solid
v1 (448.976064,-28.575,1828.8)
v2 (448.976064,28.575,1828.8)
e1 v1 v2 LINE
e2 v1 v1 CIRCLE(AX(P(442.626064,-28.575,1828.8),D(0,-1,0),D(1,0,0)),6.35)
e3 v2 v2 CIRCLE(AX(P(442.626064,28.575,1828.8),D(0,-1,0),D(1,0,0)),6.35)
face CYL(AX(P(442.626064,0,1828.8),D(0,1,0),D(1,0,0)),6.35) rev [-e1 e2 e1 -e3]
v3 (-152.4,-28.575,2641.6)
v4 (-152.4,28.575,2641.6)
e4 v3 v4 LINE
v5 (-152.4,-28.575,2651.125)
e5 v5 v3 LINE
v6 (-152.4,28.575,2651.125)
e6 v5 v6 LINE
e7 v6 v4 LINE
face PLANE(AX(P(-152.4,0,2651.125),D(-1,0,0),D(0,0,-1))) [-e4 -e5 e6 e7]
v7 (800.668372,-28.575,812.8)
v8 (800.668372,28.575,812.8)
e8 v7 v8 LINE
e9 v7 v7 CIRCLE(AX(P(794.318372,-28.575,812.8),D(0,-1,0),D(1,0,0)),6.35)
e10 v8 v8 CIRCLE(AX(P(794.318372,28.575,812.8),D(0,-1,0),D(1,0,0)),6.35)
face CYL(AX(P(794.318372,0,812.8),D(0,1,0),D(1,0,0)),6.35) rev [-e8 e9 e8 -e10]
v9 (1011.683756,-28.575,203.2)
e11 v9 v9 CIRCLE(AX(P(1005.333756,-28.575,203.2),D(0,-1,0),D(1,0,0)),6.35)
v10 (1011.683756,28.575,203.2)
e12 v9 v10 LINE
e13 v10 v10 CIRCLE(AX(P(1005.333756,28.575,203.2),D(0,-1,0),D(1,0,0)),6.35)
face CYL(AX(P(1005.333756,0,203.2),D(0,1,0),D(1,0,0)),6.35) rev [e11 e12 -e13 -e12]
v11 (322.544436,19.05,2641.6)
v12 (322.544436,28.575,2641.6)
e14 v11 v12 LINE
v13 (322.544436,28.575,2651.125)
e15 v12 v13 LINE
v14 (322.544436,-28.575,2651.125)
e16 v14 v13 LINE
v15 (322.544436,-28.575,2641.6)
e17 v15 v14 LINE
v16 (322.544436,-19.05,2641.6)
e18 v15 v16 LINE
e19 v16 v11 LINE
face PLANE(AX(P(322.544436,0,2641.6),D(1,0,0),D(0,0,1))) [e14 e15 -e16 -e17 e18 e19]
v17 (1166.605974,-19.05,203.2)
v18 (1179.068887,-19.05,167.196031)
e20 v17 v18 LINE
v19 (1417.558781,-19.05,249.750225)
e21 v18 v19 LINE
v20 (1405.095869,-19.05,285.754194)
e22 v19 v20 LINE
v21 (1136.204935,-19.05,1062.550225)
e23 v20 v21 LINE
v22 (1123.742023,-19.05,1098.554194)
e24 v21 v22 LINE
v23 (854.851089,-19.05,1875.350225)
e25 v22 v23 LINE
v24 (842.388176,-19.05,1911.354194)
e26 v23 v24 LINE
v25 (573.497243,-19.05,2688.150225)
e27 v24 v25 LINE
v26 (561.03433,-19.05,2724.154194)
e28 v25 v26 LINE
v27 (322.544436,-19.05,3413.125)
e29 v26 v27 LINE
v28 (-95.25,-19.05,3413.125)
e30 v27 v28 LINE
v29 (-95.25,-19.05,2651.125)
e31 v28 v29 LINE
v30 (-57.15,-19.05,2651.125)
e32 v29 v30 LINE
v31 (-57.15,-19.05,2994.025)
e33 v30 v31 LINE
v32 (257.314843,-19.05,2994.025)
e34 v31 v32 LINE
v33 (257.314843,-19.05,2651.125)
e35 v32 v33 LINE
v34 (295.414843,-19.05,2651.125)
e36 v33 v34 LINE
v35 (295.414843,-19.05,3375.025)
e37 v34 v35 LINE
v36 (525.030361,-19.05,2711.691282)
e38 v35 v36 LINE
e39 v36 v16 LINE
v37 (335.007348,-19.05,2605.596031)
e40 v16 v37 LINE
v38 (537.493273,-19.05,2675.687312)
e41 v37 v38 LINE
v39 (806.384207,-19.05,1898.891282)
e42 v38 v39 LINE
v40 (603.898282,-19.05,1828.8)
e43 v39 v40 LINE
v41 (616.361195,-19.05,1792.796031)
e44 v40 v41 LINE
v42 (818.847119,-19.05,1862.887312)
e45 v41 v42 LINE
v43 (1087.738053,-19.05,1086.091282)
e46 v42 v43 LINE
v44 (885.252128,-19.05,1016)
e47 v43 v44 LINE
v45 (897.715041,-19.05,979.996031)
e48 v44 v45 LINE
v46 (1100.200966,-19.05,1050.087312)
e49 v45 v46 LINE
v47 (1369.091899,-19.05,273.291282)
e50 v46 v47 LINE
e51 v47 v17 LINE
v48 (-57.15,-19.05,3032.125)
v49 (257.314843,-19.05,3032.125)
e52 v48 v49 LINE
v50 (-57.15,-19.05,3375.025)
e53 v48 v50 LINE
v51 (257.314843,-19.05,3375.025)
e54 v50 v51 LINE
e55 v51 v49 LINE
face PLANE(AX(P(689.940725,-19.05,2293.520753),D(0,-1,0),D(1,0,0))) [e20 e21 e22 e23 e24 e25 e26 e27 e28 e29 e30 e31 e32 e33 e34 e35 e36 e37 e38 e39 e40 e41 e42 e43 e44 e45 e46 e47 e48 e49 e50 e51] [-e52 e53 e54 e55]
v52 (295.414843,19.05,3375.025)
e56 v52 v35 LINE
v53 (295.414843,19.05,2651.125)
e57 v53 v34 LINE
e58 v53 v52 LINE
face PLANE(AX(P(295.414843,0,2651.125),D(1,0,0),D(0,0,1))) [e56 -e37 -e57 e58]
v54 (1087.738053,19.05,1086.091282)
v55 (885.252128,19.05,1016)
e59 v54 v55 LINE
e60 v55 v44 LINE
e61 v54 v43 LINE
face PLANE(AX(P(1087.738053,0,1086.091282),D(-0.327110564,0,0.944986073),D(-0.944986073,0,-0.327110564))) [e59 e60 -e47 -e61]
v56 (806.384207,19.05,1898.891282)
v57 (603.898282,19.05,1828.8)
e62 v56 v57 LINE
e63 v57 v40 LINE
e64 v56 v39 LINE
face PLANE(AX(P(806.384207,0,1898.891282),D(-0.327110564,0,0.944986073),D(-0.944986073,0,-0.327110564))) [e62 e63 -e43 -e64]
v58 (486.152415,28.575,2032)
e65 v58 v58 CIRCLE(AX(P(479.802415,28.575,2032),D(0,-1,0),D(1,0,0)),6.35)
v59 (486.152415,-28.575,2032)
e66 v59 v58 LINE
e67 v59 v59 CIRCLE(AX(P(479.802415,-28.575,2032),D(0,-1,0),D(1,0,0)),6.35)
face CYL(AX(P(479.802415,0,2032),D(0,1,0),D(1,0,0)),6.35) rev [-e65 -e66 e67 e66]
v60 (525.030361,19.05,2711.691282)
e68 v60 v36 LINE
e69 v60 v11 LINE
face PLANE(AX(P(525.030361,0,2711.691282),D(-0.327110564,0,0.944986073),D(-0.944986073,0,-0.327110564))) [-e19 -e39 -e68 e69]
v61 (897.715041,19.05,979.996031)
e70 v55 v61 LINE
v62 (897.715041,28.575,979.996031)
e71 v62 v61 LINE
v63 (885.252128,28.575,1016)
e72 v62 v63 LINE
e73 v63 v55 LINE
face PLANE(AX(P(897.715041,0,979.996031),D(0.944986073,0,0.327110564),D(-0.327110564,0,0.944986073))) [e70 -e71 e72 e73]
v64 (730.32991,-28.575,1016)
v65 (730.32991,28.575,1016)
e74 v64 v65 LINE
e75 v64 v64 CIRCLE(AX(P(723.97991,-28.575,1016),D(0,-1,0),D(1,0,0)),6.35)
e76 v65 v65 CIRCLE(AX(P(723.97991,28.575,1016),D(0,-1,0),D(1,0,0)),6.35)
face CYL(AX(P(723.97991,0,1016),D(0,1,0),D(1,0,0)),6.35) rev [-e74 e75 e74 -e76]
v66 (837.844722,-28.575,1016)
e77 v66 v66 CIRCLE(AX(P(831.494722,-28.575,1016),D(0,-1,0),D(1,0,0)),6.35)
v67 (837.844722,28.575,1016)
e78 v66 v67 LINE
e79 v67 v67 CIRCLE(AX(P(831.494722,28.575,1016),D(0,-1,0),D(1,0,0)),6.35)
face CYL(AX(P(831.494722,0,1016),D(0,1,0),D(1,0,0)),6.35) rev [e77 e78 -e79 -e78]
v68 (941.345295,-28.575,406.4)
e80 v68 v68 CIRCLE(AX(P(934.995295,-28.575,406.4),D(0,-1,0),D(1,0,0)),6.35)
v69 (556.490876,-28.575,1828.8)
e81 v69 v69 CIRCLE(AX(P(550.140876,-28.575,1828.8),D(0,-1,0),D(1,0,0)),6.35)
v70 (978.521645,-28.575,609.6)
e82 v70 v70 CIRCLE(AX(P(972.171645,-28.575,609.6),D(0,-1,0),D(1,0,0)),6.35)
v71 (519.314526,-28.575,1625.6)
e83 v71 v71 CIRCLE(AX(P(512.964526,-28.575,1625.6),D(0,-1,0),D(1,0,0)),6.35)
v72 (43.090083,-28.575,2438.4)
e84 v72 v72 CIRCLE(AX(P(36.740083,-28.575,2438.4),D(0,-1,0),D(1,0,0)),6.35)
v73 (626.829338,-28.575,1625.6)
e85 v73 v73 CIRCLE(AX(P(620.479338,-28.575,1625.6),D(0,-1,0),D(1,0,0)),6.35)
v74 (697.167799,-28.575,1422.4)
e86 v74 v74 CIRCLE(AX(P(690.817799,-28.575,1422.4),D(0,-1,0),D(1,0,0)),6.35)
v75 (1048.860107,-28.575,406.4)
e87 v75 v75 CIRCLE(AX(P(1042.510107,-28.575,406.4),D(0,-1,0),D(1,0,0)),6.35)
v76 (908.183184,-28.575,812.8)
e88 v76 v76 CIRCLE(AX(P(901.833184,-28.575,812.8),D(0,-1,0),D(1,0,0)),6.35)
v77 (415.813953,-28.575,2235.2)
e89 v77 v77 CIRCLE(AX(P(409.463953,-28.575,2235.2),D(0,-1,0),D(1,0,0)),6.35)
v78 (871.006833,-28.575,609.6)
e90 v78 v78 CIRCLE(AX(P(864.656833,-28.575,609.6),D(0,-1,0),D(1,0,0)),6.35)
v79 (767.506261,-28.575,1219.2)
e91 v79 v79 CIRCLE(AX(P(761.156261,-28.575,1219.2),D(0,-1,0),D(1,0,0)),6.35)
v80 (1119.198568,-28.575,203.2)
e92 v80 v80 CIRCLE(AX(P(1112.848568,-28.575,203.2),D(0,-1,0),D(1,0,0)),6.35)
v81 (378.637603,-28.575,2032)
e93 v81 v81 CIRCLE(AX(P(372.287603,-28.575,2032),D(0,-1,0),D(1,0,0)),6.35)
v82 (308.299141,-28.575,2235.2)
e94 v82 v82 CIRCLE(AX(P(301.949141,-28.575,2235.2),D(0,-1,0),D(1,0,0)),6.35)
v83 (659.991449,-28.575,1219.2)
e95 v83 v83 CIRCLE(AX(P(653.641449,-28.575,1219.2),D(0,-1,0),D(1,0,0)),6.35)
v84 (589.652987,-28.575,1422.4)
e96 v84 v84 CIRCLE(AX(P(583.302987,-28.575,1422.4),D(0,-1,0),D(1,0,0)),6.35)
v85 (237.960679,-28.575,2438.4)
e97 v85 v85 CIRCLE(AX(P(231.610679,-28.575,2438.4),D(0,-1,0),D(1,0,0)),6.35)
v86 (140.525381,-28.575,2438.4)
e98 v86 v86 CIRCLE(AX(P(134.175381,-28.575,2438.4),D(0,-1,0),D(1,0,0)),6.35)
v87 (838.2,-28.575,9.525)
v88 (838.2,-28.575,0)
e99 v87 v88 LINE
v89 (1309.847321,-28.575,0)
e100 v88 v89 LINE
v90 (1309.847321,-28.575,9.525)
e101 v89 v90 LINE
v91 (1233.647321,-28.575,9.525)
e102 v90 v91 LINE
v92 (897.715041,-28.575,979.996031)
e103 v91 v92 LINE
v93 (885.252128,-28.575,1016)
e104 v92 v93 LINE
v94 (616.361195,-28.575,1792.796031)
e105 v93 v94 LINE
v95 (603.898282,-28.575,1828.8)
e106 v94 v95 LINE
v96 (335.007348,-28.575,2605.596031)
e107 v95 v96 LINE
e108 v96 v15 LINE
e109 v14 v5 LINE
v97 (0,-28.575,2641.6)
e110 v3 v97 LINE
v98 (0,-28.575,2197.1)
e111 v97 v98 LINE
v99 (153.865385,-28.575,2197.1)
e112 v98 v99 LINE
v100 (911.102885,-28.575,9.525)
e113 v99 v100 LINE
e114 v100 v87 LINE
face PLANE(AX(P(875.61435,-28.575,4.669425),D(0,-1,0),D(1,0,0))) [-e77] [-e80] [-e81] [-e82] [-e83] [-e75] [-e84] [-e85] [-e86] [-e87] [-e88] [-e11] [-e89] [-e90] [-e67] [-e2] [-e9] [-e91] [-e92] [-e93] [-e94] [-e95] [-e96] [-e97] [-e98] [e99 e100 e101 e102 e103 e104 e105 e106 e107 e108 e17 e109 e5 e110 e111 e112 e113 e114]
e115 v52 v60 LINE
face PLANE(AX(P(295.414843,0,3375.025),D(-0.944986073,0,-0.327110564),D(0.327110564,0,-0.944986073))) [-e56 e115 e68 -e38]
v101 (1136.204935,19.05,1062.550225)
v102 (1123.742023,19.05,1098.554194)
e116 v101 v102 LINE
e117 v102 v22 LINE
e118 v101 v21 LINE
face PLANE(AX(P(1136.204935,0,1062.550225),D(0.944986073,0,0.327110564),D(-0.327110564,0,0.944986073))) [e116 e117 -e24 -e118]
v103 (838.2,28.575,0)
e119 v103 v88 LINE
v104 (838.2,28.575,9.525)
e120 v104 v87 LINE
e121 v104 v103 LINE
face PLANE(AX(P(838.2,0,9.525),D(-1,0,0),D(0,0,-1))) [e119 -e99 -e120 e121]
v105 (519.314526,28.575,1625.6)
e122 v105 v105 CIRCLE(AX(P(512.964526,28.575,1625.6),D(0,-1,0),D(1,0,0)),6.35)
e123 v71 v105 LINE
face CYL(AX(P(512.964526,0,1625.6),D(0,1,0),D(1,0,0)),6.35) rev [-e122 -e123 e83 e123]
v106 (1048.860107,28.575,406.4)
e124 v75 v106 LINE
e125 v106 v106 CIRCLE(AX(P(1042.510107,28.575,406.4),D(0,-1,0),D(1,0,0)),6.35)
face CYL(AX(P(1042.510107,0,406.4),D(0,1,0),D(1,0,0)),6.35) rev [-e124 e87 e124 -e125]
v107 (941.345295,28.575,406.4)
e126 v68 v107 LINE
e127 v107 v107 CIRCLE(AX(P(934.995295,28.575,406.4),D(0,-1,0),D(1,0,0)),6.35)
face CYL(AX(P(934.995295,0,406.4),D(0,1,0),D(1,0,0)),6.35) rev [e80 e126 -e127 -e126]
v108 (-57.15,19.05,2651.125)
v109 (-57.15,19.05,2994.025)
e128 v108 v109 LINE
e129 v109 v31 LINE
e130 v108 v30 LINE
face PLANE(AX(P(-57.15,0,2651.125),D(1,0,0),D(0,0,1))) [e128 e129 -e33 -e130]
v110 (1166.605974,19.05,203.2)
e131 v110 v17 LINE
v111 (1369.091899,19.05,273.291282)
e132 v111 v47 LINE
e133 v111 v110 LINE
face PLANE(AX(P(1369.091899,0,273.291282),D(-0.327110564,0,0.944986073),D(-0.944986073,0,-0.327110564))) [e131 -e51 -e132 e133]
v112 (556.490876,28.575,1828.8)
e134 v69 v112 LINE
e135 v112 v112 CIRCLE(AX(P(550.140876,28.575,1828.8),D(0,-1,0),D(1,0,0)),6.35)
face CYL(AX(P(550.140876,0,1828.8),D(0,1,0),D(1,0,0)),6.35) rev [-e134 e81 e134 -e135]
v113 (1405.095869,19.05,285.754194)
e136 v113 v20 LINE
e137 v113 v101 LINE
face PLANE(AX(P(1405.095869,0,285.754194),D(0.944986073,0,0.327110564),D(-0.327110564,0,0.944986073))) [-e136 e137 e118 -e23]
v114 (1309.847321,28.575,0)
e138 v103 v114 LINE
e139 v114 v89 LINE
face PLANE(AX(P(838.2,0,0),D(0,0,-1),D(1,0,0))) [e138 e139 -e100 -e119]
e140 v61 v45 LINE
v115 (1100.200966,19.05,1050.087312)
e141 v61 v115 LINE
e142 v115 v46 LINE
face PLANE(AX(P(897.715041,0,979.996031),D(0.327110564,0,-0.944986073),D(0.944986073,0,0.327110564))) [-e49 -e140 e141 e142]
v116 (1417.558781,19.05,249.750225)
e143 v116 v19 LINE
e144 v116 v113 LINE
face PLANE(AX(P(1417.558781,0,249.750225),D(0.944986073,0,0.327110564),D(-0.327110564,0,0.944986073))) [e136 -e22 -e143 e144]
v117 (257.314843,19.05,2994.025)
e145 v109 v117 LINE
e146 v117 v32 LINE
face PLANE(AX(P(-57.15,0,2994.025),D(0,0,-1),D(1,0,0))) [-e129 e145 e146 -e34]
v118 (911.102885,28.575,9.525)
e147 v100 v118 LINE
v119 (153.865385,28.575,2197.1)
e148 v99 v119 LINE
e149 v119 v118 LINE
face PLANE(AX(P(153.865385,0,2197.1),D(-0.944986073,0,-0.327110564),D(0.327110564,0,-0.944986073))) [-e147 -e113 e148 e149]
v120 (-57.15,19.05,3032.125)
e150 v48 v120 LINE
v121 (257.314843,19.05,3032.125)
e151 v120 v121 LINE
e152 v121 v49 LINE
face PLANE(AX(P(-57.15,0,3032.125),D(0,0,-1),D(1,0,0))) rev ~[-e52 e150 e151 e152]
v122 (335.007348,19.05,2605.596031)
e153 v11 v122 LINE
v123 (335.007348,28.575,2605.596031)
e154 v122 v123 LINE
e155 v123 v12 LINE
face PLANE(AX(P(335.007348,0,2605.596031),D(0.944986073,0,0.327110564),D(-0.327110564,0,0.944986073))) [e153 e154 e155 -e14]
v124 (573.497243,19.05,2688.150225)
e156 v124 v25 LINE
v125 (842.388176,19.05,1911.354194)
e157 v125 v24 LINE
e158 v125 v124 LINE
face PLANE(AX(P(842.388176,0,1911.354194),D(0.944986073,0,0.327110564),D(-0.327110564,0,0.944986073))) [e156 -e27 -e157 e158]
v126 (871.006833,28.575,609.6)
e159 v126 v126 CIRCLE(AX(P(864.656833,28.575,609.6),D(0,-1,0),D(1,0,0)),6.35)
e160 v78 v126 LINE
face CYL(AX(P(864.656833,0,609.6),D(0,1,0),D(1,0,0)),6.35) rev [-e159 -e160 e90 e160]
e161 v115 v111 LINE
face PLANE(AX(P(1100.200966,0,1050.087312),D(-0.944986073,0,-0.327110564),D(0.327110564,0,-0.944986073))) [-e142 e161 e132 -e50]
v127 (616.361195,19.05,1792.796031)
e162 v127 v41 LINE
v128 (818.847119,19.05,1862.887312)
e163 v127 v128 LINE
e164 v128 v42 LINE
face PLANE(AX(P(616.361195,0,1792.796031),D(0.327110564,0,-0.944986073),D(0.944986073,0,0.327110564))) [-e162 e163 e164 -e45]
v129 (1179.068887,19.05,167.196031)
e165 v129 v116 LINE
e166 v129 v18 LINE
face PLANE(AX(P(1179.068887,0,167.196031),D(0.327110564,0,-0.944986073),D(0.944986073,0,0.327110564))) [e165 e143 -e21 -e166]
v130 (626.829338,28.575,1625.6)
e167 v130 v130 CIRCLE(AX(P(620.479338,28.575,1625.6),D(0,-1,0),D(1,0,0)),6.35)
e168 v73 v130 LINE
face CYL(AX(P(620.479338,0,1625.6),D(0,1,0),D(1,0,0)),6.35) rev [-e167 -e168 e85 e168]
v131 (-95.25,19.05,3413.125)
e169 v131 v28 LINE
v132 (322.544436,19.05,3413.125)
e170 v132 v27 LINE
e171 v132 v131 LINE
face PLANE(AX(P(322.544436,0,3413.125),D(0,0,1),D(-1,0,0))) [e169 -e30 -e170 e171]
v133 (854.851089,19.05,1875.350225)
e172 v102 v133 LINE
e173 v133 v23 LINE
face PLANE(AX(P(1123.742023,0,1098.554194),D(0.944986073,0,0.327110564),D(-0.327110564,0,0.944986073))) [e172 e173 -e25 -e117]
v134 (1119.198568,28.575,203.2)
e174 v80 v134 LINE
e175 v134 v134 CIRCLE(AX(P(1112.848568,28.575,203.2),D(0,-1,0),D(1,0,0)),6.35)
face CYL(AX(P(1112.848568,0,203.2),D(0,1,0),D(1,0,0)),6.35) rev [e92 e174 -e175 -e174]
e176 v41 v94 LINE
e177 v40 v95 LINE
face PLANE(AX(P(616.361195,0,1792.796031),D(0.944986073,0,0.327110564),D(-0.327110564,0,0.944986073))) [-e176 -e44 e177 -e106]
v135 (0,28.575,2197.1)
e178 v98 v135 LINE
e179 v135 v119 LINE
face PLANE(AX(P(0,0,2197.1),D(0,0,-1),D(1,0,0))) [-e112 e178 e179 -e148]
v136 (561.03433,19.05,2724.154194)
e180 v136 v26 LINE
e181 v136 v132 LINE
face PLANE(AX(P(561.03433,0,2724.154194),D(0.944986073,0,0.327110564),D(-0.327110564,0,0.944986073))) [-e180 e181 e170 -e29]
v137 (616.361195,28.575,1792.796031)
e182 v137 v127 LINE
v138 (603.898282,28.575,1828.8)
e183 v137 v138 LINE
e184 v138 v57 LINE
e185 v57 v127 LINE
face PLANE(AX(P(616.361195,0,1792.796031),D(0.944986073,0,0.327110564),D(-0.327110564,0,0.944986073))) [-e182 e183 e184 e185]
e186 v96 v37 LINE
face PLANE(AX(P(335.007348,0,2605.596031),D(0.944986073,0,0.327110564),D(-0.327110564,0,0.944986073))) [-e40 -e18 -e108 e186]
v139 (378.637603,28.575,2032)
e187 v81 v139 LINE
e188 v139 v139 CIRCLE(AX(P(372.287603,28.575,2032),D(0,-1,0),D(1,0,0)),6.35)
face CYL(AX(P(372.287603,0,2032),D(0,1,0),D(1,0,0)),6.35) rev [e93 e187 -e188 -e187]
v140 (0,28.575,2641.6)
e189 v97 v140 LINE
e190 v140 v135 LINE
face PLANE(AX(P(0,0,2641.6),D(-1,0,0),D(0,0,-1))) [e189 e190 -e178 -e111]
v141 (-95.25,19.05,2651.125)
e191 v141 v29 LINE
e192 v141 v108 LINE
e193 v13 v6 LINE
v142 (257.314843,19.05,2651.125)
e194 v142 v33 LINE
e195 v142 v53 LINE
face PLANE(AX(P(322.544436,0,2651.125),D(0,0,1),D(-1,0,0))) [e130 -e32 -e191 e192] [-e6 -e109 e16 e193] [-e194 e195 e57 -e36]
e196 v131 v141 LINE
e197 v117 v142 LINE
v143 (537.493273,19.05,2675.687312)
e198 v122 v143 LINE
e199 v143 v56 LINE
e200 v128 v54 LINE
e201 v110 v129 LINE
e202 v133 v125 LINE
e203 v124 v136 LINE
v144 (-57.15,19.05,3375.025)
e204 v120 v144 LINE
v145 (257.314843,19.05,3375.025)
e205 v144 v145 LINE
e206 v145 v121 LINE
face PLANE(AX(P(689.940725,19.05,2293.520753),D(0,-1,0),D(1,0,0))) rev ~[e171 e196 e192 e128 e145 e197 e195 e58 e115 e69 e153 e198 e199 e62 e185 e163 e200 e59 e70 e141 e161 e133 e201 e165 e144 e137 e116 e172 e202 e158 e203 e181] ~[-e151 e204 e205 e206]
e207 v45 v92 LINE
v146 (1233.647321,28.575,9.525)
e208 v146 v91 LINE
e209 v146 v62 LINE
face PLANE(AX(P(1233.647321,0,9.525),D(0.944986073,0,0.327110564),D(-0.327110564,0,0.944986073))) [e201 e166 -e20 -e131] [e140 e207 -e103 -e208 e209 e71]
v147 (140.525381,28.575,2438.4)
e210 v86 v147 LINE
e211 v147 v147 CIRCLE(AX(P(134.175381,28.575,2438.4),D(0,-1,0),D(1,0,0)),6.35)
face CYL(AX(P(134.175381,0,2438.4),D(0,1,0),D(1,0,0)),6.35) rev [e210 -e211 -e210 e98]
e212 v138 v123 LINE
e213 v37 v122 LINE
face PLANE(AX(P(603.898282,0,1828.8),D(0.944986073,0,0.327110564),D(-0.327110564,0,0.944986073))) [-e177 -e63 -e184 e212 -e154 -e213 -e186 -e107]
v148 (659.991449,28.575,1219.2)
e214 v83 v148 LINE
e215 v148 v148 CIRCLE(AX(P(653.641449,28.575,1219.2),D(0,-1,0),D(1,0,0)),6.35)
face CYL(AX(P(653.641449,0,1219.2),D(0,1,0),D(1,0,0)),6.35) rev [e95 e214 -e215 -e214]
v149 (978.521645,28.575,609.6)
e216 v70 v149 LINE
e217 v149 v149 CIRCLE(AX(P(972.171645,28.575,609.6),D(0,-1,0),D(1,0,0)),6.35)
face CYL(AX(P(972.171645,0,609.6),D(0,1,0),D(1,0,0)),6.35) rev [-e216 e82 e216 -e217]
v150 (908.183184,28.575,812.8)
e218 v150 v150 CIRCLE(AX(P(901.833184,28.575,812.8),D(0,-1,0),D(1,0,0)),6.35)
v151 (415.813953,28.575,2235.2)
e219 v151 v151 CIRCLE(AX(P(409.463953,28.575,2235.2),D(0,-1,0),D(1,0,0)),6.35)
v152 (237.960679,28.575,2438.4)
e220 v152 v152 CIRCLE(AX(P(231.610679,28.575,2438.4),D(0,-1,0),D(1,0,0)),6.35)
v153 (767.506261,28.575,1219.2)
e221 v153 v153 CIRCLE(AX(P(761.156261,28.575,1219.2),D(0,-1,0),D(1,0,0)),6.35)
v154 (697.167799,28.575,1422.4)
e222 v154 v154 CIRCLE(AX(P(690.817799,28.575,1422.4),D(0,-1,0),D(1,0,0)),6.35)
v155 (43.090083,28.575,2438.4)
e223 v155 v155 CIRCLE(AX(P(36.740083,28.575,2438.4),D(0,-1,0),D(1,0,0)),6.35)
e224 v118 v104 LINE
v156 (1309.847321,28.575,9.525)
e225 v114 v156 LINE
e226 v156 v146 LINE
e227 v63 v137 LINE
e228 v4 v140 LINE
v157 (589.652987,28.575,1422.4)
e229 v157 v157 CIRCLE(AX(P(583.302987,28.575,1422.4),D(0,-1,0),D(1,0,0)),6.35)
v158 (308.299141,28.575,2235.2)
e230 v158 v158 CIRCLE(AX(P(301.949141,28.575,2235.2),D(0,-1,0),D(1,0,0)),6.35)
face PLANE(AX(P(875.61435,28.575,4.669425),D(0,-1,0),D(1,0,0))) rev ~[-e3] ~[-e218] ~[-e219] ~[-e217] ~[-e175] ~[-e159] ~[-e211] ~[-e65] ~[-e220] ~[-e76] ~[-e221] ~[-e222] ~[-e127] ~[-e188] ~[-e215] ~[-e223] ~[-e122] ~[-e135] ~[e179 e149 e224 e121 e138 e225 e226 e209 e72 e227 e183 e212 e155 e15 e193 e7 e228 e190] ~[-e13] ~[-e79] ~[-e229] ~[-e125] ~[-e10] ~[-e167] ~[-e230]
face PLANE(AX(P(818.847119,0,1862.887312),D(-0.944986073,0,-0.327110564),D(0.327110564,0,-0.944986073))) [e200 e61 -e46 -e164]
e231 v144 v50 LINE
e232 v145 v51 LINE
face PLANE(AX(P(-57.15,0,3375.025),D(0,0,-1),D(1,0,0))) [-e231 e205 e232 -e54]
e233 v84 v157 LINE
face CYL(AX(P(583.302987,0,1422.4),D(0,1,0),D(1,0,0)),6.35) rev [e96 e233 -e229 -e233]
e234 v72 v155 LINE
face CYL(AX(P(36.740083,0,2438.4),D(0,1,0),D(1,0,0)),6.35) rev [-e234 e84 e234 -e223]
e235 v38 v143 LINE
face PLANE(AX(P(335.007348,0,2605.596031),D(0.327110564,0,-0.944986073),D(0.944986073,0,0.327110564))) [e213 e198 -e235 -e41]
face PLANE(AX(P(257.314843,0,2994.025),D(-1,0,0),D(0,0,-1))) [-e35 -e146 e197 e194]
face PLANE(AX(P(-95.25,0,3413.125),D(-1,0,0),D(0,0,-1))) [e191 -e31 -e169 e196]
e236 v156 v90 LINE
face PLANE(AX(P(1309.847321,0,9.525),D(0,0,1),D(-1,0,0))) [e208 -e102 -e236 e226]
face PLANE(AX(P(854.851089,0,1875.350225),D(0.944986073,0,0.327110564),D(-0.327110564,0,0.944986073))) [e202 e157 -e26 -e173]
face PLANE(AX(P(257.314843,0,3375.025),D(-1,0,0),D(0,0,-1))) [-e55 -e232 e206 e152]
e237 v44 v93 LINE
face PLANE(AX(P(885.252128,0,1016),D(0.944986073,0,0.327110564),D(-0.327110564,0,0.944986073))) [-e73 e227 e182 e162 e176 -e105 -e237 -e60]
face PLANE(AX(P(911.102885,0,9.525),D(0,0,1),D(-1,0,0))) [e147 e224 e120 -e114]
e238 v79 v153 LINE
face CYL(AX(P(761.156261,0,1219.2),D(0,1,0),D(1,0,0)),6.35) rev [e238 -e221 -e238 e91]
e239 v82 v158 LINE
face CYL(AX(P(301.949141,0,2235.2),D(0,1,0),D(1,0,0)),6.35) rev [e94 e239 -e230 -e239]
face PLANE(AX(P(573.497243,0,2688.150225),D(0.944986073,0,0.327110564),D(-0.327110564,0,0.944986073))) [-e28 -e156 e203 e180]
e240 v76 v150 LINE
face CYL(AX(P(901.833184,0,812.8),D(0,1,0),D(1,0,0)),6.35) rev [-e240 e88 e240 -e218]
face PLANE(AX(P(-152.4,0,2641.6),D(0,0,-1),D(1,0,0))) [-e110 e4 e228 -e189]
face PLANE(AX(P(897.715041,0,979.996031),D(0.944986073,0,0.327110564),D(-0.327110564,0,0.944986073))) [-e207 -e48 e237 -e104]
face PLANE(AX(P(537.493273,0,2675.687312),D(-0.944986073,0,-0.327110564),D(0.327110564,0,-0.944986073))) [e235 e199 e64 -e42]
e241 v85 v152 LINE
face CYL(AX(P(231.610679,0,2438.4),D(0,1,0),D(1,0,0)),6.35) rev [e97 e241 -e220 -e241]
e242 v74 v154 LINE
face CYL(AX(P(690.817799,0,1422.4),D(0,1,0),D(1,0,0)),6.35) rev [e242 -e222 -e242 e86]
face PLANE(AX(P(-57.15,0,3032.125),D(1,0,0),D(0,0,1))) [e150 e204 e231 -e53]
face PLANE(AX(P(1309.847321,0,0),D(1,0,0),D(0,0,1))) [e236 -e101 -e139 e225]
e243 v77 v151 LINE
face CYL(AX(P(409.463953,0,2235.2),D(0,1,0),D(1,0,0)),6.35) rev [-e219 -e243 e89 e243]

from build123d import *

# Parameters (mm, degrees)
F0_R     = 6.35
F1_DEPTH = 28.575
F0_W     = 314.4648429592
F0_H     = 38.1
F2_DEPTH = 19.05


with BuildPart() as f1:
    # F0 (on Front) → F1 (new body, symmetric)
    with BuildSketch(Plane.XZ):
        Polygon((914.4, 0), (911.1028846154, 9.525), (838.2, 9.525), (838.2, 0), align=None)
        Polygon((1233.6473205248, 9.525), (1236.9444359094, 0), (1309.8473205248, 0), (1309.8473205248, 9.525), align=None)
        Polygon((153.8653846154, 2197.1), (0, 2641.6), (0, 2457.45), (0, 2419.35), (0, 2197.1), align=None)
        with Locations((36.7400827979, 2438.4)):
            Circle(F0_R, mode=Mode.SUBTRACT)
        Polygon((-152.4, 2641.6), (0, 2641.6), (0, 2651.125), (-57.15, 2651.125), (-95.25, 2651.125), (-152.4, 2651.125), align=None)
        Polygon((0, 2651.125), (0, 2641.6), (322.5444359094, 2641.6), (322.5444359094, 2651.125), (295.4148429592, 2651.125), (257.3148429592, 2651.125), align=None)
        Polygon((322.5444359094, 2641.6), (0, 2641.6), (153.8653846154, 2197.1), (911.1028846154, 9.525), (914.4, 0), (1236.9444359094, 0), (1233.6473205248, 9.525), (1179.0688868549, 167.1960306019), (1166.6059743709, 203.2), (955.5905897555, 812.8), (917.4905897555, 922.8666666667), (897.715040701, 979.9960306019), (885.2521282171, 1016), (616.3611945472, 1792.7960306019), (603.8982820632, 1828.8), (565.7982820632, 1938.8666666667), (335.0073483933, 2605.5960306019), align=None)
        with Locations((583.3029871855, 1422.4)):
            Circle(F0_R, mode=Mode.SUBTRACT)
        with Locations((512.964525647, 1625.6)):
            Circle(F0_R, mode=Mode.SUBTRACT)
        with Locations((620.4793376168, 1625.6)):
            Circle(F0_R, mode=Mode.SUBTRACT)
        with Locations((1005.3337564162, 203.2)):
            Circle(F0_R, mode=Mode.SUBTRACT)
        with Locations((934.9952948778, 406.4)):
            Circle(F0_R, mode=Mode.SUBTRACT)
        with Locations((794.3183718008, 812.8)):
            Circle(F0_R, mode=Mode.SUBTRACT)
        with Locations((864.6568333393, 609.6)):
            Circle(F0_R, mode=Mode.SUBTRACT)
        with Locations((972.1716453091, 609.6)):
            Circle(F0_R, mode=Mode.SUBTRACT)
        with Locations((901.8331837706, 812.8)):
            Circle(F0_R, mode=Mode.SUBTRACT)
        with Locations((1112.848568386, 203.2)):
            Circle(F0_R, mode=Mode.SUBTRACT)
        with Locations((1042.5101068476, 406.4)):
            Circle(F0_R, mode=Mode.SUBTRACT)
        with Locations((723.9799102624, 1016)):
            Circle(F0_R, mode=Mode.SUBTRACT)
        with Locations((653.6414487239, 1219.2)):
            Circle(F0_R, mode=Mode.SUBTRACT)
        with Locations((761.1562606937, 1219.2)):
            Circle(F0_R, mode=Mode.SUBTRACT)
        with Locations((831.4947222322, 1016)):
            Circle(F0_R, mode=Mode.SUBTRACT)
        with Locations((690.8177991552, 1422.4)):
            Circle(F0_R, mode=Mode.SUBTRACT)
        with Locations((134.1753811455, 2438.4)):
            Circle(F0_R, mode=Mode.SUBTRACT)
        with Locations((231.6106794931, 2438.4)):
            Circle(F0_R, mode=Mode.SUBTRACT)
        with Locations((372.2876025701, 2032)):
            Circle(F0_R, mode=Mode.SUBTRACT)
        with Locations((442.6260641085, 1828.8)):
            Circle(F0_R, mode=Mode.SUBTRACT)
        with Locations((550.1408760783, 1828.8)):
            Circle(F0_R, mode=Mode.SUBTRACT)
        with Locations((479.8024145399, 2032)):
            Circle(F0_R, mode=Mode.SUBTRACT)
        with Locations((301.9491410316, 2235.2)):
            Circle(F0_R, mode=Mode.SUBTRACT)
        with Locations((409.4639530014, 2235.2)):
            Circle(F0_R, mode=Mode.SUBTRACT)
    extrude(amount=F1_DEPTH, both=True)

    # F0 (on Front) → F2 (join, symmetric)
    with BuildSketch(Plane.XZ):
        Polygon((573.497242713, 2688.1502247895), (537.4932733149, 2675.6873123056), (806.3842069848, 1898.8912817036), (842.3881763829, 1911.3541941876), align=None)
        Polygon((854.8510888668, 1875.3502247895), (818.8471194688, 1862.8873123056), (1087.7380531387, 1086.0912817036), (1123.7420225367, 1098.5541941876), align=None)
        Polygon((842.3881763829, 1911.3541941876), (806.3842069848, 1898.8912817036), (818.8471194688, 1862.8873123056), (854.8510888668, 1875.3502247895), align=None)
        Polygon((806.3842069848, 1898.8912817036), (603.8982820632, 1828.8), (616.3611945472, 1792.7960306019), (818.8471194688, 1862.8873123056), align=None)
        Polygon((525.030360831, 2711.6912817036), (322.5444359094, 2641.6), (335.0073483933, 2605.5960306019), (537.4932733149, 2675.6873123056), align=None)
        Polygon((257.3148429592, 2994.025), (257.3148429592, 2651.125), (295.4148429592, 2651.125), (295.4148429592, 3375.025), (257.3148429592, 3375.025), (257.3148429592, 3032.125), align=None)
        with Locations((100.0824214796, 3013.075)):
            Rectangle(F0_W, F0_H)
        Polygon((561.0343302291, 2724.1541941876), (525.030360831, 2711.6912817036), (537.4932733149, 2675.6873123056), (573.497242713, 2688.1502247895), align=None)
        Polygon((295.4148429592, 3375.025), (525.030360831, 2711.6912817036), (561.0343302291, 2724.1541941876), (322.5444359094, 3413.125), (-95.25, 3413.125), (-95.25, 2651.125), (-57.15, 2651.125), (-57.15, 2994.025), (-57.15, 3032.125), (-57.15, 3375.025), (257.3148429592, 3375.025), align=None)
        Polygon((1136.2049350207, 1062.5502247895), (1100.2009656226, 1050.0873123056), (1369.0918992925, 273.2912817036), (1405.0958686906, 285.7541941876), align=None)
        Polygon((1123.7420225367, 1098.5541941876), (1087.7380531387, 1086.0912817036), (1100.2009656226, 1050.0873123056), (1136.2049350207, 1062.5502247895), align=None)
        Polygon((1087.7380531387, 1086.0912817036), (885.2521282171, 1016), (897.715040701, 979.9960306019), (1100.2009656226, 1050.0873123056), align=None)
        Polygon((1166.6059743709, 203.2), (1179.0688868549, 167.1960306019), (1417.5587811745, 249.7502247895), (1405.0958686906, 285.7541941876), (1369.0918992925, 273.2912817036), align=None)
    extrude(amount=F2_DEPTH, both=True)


solid = f1.part
